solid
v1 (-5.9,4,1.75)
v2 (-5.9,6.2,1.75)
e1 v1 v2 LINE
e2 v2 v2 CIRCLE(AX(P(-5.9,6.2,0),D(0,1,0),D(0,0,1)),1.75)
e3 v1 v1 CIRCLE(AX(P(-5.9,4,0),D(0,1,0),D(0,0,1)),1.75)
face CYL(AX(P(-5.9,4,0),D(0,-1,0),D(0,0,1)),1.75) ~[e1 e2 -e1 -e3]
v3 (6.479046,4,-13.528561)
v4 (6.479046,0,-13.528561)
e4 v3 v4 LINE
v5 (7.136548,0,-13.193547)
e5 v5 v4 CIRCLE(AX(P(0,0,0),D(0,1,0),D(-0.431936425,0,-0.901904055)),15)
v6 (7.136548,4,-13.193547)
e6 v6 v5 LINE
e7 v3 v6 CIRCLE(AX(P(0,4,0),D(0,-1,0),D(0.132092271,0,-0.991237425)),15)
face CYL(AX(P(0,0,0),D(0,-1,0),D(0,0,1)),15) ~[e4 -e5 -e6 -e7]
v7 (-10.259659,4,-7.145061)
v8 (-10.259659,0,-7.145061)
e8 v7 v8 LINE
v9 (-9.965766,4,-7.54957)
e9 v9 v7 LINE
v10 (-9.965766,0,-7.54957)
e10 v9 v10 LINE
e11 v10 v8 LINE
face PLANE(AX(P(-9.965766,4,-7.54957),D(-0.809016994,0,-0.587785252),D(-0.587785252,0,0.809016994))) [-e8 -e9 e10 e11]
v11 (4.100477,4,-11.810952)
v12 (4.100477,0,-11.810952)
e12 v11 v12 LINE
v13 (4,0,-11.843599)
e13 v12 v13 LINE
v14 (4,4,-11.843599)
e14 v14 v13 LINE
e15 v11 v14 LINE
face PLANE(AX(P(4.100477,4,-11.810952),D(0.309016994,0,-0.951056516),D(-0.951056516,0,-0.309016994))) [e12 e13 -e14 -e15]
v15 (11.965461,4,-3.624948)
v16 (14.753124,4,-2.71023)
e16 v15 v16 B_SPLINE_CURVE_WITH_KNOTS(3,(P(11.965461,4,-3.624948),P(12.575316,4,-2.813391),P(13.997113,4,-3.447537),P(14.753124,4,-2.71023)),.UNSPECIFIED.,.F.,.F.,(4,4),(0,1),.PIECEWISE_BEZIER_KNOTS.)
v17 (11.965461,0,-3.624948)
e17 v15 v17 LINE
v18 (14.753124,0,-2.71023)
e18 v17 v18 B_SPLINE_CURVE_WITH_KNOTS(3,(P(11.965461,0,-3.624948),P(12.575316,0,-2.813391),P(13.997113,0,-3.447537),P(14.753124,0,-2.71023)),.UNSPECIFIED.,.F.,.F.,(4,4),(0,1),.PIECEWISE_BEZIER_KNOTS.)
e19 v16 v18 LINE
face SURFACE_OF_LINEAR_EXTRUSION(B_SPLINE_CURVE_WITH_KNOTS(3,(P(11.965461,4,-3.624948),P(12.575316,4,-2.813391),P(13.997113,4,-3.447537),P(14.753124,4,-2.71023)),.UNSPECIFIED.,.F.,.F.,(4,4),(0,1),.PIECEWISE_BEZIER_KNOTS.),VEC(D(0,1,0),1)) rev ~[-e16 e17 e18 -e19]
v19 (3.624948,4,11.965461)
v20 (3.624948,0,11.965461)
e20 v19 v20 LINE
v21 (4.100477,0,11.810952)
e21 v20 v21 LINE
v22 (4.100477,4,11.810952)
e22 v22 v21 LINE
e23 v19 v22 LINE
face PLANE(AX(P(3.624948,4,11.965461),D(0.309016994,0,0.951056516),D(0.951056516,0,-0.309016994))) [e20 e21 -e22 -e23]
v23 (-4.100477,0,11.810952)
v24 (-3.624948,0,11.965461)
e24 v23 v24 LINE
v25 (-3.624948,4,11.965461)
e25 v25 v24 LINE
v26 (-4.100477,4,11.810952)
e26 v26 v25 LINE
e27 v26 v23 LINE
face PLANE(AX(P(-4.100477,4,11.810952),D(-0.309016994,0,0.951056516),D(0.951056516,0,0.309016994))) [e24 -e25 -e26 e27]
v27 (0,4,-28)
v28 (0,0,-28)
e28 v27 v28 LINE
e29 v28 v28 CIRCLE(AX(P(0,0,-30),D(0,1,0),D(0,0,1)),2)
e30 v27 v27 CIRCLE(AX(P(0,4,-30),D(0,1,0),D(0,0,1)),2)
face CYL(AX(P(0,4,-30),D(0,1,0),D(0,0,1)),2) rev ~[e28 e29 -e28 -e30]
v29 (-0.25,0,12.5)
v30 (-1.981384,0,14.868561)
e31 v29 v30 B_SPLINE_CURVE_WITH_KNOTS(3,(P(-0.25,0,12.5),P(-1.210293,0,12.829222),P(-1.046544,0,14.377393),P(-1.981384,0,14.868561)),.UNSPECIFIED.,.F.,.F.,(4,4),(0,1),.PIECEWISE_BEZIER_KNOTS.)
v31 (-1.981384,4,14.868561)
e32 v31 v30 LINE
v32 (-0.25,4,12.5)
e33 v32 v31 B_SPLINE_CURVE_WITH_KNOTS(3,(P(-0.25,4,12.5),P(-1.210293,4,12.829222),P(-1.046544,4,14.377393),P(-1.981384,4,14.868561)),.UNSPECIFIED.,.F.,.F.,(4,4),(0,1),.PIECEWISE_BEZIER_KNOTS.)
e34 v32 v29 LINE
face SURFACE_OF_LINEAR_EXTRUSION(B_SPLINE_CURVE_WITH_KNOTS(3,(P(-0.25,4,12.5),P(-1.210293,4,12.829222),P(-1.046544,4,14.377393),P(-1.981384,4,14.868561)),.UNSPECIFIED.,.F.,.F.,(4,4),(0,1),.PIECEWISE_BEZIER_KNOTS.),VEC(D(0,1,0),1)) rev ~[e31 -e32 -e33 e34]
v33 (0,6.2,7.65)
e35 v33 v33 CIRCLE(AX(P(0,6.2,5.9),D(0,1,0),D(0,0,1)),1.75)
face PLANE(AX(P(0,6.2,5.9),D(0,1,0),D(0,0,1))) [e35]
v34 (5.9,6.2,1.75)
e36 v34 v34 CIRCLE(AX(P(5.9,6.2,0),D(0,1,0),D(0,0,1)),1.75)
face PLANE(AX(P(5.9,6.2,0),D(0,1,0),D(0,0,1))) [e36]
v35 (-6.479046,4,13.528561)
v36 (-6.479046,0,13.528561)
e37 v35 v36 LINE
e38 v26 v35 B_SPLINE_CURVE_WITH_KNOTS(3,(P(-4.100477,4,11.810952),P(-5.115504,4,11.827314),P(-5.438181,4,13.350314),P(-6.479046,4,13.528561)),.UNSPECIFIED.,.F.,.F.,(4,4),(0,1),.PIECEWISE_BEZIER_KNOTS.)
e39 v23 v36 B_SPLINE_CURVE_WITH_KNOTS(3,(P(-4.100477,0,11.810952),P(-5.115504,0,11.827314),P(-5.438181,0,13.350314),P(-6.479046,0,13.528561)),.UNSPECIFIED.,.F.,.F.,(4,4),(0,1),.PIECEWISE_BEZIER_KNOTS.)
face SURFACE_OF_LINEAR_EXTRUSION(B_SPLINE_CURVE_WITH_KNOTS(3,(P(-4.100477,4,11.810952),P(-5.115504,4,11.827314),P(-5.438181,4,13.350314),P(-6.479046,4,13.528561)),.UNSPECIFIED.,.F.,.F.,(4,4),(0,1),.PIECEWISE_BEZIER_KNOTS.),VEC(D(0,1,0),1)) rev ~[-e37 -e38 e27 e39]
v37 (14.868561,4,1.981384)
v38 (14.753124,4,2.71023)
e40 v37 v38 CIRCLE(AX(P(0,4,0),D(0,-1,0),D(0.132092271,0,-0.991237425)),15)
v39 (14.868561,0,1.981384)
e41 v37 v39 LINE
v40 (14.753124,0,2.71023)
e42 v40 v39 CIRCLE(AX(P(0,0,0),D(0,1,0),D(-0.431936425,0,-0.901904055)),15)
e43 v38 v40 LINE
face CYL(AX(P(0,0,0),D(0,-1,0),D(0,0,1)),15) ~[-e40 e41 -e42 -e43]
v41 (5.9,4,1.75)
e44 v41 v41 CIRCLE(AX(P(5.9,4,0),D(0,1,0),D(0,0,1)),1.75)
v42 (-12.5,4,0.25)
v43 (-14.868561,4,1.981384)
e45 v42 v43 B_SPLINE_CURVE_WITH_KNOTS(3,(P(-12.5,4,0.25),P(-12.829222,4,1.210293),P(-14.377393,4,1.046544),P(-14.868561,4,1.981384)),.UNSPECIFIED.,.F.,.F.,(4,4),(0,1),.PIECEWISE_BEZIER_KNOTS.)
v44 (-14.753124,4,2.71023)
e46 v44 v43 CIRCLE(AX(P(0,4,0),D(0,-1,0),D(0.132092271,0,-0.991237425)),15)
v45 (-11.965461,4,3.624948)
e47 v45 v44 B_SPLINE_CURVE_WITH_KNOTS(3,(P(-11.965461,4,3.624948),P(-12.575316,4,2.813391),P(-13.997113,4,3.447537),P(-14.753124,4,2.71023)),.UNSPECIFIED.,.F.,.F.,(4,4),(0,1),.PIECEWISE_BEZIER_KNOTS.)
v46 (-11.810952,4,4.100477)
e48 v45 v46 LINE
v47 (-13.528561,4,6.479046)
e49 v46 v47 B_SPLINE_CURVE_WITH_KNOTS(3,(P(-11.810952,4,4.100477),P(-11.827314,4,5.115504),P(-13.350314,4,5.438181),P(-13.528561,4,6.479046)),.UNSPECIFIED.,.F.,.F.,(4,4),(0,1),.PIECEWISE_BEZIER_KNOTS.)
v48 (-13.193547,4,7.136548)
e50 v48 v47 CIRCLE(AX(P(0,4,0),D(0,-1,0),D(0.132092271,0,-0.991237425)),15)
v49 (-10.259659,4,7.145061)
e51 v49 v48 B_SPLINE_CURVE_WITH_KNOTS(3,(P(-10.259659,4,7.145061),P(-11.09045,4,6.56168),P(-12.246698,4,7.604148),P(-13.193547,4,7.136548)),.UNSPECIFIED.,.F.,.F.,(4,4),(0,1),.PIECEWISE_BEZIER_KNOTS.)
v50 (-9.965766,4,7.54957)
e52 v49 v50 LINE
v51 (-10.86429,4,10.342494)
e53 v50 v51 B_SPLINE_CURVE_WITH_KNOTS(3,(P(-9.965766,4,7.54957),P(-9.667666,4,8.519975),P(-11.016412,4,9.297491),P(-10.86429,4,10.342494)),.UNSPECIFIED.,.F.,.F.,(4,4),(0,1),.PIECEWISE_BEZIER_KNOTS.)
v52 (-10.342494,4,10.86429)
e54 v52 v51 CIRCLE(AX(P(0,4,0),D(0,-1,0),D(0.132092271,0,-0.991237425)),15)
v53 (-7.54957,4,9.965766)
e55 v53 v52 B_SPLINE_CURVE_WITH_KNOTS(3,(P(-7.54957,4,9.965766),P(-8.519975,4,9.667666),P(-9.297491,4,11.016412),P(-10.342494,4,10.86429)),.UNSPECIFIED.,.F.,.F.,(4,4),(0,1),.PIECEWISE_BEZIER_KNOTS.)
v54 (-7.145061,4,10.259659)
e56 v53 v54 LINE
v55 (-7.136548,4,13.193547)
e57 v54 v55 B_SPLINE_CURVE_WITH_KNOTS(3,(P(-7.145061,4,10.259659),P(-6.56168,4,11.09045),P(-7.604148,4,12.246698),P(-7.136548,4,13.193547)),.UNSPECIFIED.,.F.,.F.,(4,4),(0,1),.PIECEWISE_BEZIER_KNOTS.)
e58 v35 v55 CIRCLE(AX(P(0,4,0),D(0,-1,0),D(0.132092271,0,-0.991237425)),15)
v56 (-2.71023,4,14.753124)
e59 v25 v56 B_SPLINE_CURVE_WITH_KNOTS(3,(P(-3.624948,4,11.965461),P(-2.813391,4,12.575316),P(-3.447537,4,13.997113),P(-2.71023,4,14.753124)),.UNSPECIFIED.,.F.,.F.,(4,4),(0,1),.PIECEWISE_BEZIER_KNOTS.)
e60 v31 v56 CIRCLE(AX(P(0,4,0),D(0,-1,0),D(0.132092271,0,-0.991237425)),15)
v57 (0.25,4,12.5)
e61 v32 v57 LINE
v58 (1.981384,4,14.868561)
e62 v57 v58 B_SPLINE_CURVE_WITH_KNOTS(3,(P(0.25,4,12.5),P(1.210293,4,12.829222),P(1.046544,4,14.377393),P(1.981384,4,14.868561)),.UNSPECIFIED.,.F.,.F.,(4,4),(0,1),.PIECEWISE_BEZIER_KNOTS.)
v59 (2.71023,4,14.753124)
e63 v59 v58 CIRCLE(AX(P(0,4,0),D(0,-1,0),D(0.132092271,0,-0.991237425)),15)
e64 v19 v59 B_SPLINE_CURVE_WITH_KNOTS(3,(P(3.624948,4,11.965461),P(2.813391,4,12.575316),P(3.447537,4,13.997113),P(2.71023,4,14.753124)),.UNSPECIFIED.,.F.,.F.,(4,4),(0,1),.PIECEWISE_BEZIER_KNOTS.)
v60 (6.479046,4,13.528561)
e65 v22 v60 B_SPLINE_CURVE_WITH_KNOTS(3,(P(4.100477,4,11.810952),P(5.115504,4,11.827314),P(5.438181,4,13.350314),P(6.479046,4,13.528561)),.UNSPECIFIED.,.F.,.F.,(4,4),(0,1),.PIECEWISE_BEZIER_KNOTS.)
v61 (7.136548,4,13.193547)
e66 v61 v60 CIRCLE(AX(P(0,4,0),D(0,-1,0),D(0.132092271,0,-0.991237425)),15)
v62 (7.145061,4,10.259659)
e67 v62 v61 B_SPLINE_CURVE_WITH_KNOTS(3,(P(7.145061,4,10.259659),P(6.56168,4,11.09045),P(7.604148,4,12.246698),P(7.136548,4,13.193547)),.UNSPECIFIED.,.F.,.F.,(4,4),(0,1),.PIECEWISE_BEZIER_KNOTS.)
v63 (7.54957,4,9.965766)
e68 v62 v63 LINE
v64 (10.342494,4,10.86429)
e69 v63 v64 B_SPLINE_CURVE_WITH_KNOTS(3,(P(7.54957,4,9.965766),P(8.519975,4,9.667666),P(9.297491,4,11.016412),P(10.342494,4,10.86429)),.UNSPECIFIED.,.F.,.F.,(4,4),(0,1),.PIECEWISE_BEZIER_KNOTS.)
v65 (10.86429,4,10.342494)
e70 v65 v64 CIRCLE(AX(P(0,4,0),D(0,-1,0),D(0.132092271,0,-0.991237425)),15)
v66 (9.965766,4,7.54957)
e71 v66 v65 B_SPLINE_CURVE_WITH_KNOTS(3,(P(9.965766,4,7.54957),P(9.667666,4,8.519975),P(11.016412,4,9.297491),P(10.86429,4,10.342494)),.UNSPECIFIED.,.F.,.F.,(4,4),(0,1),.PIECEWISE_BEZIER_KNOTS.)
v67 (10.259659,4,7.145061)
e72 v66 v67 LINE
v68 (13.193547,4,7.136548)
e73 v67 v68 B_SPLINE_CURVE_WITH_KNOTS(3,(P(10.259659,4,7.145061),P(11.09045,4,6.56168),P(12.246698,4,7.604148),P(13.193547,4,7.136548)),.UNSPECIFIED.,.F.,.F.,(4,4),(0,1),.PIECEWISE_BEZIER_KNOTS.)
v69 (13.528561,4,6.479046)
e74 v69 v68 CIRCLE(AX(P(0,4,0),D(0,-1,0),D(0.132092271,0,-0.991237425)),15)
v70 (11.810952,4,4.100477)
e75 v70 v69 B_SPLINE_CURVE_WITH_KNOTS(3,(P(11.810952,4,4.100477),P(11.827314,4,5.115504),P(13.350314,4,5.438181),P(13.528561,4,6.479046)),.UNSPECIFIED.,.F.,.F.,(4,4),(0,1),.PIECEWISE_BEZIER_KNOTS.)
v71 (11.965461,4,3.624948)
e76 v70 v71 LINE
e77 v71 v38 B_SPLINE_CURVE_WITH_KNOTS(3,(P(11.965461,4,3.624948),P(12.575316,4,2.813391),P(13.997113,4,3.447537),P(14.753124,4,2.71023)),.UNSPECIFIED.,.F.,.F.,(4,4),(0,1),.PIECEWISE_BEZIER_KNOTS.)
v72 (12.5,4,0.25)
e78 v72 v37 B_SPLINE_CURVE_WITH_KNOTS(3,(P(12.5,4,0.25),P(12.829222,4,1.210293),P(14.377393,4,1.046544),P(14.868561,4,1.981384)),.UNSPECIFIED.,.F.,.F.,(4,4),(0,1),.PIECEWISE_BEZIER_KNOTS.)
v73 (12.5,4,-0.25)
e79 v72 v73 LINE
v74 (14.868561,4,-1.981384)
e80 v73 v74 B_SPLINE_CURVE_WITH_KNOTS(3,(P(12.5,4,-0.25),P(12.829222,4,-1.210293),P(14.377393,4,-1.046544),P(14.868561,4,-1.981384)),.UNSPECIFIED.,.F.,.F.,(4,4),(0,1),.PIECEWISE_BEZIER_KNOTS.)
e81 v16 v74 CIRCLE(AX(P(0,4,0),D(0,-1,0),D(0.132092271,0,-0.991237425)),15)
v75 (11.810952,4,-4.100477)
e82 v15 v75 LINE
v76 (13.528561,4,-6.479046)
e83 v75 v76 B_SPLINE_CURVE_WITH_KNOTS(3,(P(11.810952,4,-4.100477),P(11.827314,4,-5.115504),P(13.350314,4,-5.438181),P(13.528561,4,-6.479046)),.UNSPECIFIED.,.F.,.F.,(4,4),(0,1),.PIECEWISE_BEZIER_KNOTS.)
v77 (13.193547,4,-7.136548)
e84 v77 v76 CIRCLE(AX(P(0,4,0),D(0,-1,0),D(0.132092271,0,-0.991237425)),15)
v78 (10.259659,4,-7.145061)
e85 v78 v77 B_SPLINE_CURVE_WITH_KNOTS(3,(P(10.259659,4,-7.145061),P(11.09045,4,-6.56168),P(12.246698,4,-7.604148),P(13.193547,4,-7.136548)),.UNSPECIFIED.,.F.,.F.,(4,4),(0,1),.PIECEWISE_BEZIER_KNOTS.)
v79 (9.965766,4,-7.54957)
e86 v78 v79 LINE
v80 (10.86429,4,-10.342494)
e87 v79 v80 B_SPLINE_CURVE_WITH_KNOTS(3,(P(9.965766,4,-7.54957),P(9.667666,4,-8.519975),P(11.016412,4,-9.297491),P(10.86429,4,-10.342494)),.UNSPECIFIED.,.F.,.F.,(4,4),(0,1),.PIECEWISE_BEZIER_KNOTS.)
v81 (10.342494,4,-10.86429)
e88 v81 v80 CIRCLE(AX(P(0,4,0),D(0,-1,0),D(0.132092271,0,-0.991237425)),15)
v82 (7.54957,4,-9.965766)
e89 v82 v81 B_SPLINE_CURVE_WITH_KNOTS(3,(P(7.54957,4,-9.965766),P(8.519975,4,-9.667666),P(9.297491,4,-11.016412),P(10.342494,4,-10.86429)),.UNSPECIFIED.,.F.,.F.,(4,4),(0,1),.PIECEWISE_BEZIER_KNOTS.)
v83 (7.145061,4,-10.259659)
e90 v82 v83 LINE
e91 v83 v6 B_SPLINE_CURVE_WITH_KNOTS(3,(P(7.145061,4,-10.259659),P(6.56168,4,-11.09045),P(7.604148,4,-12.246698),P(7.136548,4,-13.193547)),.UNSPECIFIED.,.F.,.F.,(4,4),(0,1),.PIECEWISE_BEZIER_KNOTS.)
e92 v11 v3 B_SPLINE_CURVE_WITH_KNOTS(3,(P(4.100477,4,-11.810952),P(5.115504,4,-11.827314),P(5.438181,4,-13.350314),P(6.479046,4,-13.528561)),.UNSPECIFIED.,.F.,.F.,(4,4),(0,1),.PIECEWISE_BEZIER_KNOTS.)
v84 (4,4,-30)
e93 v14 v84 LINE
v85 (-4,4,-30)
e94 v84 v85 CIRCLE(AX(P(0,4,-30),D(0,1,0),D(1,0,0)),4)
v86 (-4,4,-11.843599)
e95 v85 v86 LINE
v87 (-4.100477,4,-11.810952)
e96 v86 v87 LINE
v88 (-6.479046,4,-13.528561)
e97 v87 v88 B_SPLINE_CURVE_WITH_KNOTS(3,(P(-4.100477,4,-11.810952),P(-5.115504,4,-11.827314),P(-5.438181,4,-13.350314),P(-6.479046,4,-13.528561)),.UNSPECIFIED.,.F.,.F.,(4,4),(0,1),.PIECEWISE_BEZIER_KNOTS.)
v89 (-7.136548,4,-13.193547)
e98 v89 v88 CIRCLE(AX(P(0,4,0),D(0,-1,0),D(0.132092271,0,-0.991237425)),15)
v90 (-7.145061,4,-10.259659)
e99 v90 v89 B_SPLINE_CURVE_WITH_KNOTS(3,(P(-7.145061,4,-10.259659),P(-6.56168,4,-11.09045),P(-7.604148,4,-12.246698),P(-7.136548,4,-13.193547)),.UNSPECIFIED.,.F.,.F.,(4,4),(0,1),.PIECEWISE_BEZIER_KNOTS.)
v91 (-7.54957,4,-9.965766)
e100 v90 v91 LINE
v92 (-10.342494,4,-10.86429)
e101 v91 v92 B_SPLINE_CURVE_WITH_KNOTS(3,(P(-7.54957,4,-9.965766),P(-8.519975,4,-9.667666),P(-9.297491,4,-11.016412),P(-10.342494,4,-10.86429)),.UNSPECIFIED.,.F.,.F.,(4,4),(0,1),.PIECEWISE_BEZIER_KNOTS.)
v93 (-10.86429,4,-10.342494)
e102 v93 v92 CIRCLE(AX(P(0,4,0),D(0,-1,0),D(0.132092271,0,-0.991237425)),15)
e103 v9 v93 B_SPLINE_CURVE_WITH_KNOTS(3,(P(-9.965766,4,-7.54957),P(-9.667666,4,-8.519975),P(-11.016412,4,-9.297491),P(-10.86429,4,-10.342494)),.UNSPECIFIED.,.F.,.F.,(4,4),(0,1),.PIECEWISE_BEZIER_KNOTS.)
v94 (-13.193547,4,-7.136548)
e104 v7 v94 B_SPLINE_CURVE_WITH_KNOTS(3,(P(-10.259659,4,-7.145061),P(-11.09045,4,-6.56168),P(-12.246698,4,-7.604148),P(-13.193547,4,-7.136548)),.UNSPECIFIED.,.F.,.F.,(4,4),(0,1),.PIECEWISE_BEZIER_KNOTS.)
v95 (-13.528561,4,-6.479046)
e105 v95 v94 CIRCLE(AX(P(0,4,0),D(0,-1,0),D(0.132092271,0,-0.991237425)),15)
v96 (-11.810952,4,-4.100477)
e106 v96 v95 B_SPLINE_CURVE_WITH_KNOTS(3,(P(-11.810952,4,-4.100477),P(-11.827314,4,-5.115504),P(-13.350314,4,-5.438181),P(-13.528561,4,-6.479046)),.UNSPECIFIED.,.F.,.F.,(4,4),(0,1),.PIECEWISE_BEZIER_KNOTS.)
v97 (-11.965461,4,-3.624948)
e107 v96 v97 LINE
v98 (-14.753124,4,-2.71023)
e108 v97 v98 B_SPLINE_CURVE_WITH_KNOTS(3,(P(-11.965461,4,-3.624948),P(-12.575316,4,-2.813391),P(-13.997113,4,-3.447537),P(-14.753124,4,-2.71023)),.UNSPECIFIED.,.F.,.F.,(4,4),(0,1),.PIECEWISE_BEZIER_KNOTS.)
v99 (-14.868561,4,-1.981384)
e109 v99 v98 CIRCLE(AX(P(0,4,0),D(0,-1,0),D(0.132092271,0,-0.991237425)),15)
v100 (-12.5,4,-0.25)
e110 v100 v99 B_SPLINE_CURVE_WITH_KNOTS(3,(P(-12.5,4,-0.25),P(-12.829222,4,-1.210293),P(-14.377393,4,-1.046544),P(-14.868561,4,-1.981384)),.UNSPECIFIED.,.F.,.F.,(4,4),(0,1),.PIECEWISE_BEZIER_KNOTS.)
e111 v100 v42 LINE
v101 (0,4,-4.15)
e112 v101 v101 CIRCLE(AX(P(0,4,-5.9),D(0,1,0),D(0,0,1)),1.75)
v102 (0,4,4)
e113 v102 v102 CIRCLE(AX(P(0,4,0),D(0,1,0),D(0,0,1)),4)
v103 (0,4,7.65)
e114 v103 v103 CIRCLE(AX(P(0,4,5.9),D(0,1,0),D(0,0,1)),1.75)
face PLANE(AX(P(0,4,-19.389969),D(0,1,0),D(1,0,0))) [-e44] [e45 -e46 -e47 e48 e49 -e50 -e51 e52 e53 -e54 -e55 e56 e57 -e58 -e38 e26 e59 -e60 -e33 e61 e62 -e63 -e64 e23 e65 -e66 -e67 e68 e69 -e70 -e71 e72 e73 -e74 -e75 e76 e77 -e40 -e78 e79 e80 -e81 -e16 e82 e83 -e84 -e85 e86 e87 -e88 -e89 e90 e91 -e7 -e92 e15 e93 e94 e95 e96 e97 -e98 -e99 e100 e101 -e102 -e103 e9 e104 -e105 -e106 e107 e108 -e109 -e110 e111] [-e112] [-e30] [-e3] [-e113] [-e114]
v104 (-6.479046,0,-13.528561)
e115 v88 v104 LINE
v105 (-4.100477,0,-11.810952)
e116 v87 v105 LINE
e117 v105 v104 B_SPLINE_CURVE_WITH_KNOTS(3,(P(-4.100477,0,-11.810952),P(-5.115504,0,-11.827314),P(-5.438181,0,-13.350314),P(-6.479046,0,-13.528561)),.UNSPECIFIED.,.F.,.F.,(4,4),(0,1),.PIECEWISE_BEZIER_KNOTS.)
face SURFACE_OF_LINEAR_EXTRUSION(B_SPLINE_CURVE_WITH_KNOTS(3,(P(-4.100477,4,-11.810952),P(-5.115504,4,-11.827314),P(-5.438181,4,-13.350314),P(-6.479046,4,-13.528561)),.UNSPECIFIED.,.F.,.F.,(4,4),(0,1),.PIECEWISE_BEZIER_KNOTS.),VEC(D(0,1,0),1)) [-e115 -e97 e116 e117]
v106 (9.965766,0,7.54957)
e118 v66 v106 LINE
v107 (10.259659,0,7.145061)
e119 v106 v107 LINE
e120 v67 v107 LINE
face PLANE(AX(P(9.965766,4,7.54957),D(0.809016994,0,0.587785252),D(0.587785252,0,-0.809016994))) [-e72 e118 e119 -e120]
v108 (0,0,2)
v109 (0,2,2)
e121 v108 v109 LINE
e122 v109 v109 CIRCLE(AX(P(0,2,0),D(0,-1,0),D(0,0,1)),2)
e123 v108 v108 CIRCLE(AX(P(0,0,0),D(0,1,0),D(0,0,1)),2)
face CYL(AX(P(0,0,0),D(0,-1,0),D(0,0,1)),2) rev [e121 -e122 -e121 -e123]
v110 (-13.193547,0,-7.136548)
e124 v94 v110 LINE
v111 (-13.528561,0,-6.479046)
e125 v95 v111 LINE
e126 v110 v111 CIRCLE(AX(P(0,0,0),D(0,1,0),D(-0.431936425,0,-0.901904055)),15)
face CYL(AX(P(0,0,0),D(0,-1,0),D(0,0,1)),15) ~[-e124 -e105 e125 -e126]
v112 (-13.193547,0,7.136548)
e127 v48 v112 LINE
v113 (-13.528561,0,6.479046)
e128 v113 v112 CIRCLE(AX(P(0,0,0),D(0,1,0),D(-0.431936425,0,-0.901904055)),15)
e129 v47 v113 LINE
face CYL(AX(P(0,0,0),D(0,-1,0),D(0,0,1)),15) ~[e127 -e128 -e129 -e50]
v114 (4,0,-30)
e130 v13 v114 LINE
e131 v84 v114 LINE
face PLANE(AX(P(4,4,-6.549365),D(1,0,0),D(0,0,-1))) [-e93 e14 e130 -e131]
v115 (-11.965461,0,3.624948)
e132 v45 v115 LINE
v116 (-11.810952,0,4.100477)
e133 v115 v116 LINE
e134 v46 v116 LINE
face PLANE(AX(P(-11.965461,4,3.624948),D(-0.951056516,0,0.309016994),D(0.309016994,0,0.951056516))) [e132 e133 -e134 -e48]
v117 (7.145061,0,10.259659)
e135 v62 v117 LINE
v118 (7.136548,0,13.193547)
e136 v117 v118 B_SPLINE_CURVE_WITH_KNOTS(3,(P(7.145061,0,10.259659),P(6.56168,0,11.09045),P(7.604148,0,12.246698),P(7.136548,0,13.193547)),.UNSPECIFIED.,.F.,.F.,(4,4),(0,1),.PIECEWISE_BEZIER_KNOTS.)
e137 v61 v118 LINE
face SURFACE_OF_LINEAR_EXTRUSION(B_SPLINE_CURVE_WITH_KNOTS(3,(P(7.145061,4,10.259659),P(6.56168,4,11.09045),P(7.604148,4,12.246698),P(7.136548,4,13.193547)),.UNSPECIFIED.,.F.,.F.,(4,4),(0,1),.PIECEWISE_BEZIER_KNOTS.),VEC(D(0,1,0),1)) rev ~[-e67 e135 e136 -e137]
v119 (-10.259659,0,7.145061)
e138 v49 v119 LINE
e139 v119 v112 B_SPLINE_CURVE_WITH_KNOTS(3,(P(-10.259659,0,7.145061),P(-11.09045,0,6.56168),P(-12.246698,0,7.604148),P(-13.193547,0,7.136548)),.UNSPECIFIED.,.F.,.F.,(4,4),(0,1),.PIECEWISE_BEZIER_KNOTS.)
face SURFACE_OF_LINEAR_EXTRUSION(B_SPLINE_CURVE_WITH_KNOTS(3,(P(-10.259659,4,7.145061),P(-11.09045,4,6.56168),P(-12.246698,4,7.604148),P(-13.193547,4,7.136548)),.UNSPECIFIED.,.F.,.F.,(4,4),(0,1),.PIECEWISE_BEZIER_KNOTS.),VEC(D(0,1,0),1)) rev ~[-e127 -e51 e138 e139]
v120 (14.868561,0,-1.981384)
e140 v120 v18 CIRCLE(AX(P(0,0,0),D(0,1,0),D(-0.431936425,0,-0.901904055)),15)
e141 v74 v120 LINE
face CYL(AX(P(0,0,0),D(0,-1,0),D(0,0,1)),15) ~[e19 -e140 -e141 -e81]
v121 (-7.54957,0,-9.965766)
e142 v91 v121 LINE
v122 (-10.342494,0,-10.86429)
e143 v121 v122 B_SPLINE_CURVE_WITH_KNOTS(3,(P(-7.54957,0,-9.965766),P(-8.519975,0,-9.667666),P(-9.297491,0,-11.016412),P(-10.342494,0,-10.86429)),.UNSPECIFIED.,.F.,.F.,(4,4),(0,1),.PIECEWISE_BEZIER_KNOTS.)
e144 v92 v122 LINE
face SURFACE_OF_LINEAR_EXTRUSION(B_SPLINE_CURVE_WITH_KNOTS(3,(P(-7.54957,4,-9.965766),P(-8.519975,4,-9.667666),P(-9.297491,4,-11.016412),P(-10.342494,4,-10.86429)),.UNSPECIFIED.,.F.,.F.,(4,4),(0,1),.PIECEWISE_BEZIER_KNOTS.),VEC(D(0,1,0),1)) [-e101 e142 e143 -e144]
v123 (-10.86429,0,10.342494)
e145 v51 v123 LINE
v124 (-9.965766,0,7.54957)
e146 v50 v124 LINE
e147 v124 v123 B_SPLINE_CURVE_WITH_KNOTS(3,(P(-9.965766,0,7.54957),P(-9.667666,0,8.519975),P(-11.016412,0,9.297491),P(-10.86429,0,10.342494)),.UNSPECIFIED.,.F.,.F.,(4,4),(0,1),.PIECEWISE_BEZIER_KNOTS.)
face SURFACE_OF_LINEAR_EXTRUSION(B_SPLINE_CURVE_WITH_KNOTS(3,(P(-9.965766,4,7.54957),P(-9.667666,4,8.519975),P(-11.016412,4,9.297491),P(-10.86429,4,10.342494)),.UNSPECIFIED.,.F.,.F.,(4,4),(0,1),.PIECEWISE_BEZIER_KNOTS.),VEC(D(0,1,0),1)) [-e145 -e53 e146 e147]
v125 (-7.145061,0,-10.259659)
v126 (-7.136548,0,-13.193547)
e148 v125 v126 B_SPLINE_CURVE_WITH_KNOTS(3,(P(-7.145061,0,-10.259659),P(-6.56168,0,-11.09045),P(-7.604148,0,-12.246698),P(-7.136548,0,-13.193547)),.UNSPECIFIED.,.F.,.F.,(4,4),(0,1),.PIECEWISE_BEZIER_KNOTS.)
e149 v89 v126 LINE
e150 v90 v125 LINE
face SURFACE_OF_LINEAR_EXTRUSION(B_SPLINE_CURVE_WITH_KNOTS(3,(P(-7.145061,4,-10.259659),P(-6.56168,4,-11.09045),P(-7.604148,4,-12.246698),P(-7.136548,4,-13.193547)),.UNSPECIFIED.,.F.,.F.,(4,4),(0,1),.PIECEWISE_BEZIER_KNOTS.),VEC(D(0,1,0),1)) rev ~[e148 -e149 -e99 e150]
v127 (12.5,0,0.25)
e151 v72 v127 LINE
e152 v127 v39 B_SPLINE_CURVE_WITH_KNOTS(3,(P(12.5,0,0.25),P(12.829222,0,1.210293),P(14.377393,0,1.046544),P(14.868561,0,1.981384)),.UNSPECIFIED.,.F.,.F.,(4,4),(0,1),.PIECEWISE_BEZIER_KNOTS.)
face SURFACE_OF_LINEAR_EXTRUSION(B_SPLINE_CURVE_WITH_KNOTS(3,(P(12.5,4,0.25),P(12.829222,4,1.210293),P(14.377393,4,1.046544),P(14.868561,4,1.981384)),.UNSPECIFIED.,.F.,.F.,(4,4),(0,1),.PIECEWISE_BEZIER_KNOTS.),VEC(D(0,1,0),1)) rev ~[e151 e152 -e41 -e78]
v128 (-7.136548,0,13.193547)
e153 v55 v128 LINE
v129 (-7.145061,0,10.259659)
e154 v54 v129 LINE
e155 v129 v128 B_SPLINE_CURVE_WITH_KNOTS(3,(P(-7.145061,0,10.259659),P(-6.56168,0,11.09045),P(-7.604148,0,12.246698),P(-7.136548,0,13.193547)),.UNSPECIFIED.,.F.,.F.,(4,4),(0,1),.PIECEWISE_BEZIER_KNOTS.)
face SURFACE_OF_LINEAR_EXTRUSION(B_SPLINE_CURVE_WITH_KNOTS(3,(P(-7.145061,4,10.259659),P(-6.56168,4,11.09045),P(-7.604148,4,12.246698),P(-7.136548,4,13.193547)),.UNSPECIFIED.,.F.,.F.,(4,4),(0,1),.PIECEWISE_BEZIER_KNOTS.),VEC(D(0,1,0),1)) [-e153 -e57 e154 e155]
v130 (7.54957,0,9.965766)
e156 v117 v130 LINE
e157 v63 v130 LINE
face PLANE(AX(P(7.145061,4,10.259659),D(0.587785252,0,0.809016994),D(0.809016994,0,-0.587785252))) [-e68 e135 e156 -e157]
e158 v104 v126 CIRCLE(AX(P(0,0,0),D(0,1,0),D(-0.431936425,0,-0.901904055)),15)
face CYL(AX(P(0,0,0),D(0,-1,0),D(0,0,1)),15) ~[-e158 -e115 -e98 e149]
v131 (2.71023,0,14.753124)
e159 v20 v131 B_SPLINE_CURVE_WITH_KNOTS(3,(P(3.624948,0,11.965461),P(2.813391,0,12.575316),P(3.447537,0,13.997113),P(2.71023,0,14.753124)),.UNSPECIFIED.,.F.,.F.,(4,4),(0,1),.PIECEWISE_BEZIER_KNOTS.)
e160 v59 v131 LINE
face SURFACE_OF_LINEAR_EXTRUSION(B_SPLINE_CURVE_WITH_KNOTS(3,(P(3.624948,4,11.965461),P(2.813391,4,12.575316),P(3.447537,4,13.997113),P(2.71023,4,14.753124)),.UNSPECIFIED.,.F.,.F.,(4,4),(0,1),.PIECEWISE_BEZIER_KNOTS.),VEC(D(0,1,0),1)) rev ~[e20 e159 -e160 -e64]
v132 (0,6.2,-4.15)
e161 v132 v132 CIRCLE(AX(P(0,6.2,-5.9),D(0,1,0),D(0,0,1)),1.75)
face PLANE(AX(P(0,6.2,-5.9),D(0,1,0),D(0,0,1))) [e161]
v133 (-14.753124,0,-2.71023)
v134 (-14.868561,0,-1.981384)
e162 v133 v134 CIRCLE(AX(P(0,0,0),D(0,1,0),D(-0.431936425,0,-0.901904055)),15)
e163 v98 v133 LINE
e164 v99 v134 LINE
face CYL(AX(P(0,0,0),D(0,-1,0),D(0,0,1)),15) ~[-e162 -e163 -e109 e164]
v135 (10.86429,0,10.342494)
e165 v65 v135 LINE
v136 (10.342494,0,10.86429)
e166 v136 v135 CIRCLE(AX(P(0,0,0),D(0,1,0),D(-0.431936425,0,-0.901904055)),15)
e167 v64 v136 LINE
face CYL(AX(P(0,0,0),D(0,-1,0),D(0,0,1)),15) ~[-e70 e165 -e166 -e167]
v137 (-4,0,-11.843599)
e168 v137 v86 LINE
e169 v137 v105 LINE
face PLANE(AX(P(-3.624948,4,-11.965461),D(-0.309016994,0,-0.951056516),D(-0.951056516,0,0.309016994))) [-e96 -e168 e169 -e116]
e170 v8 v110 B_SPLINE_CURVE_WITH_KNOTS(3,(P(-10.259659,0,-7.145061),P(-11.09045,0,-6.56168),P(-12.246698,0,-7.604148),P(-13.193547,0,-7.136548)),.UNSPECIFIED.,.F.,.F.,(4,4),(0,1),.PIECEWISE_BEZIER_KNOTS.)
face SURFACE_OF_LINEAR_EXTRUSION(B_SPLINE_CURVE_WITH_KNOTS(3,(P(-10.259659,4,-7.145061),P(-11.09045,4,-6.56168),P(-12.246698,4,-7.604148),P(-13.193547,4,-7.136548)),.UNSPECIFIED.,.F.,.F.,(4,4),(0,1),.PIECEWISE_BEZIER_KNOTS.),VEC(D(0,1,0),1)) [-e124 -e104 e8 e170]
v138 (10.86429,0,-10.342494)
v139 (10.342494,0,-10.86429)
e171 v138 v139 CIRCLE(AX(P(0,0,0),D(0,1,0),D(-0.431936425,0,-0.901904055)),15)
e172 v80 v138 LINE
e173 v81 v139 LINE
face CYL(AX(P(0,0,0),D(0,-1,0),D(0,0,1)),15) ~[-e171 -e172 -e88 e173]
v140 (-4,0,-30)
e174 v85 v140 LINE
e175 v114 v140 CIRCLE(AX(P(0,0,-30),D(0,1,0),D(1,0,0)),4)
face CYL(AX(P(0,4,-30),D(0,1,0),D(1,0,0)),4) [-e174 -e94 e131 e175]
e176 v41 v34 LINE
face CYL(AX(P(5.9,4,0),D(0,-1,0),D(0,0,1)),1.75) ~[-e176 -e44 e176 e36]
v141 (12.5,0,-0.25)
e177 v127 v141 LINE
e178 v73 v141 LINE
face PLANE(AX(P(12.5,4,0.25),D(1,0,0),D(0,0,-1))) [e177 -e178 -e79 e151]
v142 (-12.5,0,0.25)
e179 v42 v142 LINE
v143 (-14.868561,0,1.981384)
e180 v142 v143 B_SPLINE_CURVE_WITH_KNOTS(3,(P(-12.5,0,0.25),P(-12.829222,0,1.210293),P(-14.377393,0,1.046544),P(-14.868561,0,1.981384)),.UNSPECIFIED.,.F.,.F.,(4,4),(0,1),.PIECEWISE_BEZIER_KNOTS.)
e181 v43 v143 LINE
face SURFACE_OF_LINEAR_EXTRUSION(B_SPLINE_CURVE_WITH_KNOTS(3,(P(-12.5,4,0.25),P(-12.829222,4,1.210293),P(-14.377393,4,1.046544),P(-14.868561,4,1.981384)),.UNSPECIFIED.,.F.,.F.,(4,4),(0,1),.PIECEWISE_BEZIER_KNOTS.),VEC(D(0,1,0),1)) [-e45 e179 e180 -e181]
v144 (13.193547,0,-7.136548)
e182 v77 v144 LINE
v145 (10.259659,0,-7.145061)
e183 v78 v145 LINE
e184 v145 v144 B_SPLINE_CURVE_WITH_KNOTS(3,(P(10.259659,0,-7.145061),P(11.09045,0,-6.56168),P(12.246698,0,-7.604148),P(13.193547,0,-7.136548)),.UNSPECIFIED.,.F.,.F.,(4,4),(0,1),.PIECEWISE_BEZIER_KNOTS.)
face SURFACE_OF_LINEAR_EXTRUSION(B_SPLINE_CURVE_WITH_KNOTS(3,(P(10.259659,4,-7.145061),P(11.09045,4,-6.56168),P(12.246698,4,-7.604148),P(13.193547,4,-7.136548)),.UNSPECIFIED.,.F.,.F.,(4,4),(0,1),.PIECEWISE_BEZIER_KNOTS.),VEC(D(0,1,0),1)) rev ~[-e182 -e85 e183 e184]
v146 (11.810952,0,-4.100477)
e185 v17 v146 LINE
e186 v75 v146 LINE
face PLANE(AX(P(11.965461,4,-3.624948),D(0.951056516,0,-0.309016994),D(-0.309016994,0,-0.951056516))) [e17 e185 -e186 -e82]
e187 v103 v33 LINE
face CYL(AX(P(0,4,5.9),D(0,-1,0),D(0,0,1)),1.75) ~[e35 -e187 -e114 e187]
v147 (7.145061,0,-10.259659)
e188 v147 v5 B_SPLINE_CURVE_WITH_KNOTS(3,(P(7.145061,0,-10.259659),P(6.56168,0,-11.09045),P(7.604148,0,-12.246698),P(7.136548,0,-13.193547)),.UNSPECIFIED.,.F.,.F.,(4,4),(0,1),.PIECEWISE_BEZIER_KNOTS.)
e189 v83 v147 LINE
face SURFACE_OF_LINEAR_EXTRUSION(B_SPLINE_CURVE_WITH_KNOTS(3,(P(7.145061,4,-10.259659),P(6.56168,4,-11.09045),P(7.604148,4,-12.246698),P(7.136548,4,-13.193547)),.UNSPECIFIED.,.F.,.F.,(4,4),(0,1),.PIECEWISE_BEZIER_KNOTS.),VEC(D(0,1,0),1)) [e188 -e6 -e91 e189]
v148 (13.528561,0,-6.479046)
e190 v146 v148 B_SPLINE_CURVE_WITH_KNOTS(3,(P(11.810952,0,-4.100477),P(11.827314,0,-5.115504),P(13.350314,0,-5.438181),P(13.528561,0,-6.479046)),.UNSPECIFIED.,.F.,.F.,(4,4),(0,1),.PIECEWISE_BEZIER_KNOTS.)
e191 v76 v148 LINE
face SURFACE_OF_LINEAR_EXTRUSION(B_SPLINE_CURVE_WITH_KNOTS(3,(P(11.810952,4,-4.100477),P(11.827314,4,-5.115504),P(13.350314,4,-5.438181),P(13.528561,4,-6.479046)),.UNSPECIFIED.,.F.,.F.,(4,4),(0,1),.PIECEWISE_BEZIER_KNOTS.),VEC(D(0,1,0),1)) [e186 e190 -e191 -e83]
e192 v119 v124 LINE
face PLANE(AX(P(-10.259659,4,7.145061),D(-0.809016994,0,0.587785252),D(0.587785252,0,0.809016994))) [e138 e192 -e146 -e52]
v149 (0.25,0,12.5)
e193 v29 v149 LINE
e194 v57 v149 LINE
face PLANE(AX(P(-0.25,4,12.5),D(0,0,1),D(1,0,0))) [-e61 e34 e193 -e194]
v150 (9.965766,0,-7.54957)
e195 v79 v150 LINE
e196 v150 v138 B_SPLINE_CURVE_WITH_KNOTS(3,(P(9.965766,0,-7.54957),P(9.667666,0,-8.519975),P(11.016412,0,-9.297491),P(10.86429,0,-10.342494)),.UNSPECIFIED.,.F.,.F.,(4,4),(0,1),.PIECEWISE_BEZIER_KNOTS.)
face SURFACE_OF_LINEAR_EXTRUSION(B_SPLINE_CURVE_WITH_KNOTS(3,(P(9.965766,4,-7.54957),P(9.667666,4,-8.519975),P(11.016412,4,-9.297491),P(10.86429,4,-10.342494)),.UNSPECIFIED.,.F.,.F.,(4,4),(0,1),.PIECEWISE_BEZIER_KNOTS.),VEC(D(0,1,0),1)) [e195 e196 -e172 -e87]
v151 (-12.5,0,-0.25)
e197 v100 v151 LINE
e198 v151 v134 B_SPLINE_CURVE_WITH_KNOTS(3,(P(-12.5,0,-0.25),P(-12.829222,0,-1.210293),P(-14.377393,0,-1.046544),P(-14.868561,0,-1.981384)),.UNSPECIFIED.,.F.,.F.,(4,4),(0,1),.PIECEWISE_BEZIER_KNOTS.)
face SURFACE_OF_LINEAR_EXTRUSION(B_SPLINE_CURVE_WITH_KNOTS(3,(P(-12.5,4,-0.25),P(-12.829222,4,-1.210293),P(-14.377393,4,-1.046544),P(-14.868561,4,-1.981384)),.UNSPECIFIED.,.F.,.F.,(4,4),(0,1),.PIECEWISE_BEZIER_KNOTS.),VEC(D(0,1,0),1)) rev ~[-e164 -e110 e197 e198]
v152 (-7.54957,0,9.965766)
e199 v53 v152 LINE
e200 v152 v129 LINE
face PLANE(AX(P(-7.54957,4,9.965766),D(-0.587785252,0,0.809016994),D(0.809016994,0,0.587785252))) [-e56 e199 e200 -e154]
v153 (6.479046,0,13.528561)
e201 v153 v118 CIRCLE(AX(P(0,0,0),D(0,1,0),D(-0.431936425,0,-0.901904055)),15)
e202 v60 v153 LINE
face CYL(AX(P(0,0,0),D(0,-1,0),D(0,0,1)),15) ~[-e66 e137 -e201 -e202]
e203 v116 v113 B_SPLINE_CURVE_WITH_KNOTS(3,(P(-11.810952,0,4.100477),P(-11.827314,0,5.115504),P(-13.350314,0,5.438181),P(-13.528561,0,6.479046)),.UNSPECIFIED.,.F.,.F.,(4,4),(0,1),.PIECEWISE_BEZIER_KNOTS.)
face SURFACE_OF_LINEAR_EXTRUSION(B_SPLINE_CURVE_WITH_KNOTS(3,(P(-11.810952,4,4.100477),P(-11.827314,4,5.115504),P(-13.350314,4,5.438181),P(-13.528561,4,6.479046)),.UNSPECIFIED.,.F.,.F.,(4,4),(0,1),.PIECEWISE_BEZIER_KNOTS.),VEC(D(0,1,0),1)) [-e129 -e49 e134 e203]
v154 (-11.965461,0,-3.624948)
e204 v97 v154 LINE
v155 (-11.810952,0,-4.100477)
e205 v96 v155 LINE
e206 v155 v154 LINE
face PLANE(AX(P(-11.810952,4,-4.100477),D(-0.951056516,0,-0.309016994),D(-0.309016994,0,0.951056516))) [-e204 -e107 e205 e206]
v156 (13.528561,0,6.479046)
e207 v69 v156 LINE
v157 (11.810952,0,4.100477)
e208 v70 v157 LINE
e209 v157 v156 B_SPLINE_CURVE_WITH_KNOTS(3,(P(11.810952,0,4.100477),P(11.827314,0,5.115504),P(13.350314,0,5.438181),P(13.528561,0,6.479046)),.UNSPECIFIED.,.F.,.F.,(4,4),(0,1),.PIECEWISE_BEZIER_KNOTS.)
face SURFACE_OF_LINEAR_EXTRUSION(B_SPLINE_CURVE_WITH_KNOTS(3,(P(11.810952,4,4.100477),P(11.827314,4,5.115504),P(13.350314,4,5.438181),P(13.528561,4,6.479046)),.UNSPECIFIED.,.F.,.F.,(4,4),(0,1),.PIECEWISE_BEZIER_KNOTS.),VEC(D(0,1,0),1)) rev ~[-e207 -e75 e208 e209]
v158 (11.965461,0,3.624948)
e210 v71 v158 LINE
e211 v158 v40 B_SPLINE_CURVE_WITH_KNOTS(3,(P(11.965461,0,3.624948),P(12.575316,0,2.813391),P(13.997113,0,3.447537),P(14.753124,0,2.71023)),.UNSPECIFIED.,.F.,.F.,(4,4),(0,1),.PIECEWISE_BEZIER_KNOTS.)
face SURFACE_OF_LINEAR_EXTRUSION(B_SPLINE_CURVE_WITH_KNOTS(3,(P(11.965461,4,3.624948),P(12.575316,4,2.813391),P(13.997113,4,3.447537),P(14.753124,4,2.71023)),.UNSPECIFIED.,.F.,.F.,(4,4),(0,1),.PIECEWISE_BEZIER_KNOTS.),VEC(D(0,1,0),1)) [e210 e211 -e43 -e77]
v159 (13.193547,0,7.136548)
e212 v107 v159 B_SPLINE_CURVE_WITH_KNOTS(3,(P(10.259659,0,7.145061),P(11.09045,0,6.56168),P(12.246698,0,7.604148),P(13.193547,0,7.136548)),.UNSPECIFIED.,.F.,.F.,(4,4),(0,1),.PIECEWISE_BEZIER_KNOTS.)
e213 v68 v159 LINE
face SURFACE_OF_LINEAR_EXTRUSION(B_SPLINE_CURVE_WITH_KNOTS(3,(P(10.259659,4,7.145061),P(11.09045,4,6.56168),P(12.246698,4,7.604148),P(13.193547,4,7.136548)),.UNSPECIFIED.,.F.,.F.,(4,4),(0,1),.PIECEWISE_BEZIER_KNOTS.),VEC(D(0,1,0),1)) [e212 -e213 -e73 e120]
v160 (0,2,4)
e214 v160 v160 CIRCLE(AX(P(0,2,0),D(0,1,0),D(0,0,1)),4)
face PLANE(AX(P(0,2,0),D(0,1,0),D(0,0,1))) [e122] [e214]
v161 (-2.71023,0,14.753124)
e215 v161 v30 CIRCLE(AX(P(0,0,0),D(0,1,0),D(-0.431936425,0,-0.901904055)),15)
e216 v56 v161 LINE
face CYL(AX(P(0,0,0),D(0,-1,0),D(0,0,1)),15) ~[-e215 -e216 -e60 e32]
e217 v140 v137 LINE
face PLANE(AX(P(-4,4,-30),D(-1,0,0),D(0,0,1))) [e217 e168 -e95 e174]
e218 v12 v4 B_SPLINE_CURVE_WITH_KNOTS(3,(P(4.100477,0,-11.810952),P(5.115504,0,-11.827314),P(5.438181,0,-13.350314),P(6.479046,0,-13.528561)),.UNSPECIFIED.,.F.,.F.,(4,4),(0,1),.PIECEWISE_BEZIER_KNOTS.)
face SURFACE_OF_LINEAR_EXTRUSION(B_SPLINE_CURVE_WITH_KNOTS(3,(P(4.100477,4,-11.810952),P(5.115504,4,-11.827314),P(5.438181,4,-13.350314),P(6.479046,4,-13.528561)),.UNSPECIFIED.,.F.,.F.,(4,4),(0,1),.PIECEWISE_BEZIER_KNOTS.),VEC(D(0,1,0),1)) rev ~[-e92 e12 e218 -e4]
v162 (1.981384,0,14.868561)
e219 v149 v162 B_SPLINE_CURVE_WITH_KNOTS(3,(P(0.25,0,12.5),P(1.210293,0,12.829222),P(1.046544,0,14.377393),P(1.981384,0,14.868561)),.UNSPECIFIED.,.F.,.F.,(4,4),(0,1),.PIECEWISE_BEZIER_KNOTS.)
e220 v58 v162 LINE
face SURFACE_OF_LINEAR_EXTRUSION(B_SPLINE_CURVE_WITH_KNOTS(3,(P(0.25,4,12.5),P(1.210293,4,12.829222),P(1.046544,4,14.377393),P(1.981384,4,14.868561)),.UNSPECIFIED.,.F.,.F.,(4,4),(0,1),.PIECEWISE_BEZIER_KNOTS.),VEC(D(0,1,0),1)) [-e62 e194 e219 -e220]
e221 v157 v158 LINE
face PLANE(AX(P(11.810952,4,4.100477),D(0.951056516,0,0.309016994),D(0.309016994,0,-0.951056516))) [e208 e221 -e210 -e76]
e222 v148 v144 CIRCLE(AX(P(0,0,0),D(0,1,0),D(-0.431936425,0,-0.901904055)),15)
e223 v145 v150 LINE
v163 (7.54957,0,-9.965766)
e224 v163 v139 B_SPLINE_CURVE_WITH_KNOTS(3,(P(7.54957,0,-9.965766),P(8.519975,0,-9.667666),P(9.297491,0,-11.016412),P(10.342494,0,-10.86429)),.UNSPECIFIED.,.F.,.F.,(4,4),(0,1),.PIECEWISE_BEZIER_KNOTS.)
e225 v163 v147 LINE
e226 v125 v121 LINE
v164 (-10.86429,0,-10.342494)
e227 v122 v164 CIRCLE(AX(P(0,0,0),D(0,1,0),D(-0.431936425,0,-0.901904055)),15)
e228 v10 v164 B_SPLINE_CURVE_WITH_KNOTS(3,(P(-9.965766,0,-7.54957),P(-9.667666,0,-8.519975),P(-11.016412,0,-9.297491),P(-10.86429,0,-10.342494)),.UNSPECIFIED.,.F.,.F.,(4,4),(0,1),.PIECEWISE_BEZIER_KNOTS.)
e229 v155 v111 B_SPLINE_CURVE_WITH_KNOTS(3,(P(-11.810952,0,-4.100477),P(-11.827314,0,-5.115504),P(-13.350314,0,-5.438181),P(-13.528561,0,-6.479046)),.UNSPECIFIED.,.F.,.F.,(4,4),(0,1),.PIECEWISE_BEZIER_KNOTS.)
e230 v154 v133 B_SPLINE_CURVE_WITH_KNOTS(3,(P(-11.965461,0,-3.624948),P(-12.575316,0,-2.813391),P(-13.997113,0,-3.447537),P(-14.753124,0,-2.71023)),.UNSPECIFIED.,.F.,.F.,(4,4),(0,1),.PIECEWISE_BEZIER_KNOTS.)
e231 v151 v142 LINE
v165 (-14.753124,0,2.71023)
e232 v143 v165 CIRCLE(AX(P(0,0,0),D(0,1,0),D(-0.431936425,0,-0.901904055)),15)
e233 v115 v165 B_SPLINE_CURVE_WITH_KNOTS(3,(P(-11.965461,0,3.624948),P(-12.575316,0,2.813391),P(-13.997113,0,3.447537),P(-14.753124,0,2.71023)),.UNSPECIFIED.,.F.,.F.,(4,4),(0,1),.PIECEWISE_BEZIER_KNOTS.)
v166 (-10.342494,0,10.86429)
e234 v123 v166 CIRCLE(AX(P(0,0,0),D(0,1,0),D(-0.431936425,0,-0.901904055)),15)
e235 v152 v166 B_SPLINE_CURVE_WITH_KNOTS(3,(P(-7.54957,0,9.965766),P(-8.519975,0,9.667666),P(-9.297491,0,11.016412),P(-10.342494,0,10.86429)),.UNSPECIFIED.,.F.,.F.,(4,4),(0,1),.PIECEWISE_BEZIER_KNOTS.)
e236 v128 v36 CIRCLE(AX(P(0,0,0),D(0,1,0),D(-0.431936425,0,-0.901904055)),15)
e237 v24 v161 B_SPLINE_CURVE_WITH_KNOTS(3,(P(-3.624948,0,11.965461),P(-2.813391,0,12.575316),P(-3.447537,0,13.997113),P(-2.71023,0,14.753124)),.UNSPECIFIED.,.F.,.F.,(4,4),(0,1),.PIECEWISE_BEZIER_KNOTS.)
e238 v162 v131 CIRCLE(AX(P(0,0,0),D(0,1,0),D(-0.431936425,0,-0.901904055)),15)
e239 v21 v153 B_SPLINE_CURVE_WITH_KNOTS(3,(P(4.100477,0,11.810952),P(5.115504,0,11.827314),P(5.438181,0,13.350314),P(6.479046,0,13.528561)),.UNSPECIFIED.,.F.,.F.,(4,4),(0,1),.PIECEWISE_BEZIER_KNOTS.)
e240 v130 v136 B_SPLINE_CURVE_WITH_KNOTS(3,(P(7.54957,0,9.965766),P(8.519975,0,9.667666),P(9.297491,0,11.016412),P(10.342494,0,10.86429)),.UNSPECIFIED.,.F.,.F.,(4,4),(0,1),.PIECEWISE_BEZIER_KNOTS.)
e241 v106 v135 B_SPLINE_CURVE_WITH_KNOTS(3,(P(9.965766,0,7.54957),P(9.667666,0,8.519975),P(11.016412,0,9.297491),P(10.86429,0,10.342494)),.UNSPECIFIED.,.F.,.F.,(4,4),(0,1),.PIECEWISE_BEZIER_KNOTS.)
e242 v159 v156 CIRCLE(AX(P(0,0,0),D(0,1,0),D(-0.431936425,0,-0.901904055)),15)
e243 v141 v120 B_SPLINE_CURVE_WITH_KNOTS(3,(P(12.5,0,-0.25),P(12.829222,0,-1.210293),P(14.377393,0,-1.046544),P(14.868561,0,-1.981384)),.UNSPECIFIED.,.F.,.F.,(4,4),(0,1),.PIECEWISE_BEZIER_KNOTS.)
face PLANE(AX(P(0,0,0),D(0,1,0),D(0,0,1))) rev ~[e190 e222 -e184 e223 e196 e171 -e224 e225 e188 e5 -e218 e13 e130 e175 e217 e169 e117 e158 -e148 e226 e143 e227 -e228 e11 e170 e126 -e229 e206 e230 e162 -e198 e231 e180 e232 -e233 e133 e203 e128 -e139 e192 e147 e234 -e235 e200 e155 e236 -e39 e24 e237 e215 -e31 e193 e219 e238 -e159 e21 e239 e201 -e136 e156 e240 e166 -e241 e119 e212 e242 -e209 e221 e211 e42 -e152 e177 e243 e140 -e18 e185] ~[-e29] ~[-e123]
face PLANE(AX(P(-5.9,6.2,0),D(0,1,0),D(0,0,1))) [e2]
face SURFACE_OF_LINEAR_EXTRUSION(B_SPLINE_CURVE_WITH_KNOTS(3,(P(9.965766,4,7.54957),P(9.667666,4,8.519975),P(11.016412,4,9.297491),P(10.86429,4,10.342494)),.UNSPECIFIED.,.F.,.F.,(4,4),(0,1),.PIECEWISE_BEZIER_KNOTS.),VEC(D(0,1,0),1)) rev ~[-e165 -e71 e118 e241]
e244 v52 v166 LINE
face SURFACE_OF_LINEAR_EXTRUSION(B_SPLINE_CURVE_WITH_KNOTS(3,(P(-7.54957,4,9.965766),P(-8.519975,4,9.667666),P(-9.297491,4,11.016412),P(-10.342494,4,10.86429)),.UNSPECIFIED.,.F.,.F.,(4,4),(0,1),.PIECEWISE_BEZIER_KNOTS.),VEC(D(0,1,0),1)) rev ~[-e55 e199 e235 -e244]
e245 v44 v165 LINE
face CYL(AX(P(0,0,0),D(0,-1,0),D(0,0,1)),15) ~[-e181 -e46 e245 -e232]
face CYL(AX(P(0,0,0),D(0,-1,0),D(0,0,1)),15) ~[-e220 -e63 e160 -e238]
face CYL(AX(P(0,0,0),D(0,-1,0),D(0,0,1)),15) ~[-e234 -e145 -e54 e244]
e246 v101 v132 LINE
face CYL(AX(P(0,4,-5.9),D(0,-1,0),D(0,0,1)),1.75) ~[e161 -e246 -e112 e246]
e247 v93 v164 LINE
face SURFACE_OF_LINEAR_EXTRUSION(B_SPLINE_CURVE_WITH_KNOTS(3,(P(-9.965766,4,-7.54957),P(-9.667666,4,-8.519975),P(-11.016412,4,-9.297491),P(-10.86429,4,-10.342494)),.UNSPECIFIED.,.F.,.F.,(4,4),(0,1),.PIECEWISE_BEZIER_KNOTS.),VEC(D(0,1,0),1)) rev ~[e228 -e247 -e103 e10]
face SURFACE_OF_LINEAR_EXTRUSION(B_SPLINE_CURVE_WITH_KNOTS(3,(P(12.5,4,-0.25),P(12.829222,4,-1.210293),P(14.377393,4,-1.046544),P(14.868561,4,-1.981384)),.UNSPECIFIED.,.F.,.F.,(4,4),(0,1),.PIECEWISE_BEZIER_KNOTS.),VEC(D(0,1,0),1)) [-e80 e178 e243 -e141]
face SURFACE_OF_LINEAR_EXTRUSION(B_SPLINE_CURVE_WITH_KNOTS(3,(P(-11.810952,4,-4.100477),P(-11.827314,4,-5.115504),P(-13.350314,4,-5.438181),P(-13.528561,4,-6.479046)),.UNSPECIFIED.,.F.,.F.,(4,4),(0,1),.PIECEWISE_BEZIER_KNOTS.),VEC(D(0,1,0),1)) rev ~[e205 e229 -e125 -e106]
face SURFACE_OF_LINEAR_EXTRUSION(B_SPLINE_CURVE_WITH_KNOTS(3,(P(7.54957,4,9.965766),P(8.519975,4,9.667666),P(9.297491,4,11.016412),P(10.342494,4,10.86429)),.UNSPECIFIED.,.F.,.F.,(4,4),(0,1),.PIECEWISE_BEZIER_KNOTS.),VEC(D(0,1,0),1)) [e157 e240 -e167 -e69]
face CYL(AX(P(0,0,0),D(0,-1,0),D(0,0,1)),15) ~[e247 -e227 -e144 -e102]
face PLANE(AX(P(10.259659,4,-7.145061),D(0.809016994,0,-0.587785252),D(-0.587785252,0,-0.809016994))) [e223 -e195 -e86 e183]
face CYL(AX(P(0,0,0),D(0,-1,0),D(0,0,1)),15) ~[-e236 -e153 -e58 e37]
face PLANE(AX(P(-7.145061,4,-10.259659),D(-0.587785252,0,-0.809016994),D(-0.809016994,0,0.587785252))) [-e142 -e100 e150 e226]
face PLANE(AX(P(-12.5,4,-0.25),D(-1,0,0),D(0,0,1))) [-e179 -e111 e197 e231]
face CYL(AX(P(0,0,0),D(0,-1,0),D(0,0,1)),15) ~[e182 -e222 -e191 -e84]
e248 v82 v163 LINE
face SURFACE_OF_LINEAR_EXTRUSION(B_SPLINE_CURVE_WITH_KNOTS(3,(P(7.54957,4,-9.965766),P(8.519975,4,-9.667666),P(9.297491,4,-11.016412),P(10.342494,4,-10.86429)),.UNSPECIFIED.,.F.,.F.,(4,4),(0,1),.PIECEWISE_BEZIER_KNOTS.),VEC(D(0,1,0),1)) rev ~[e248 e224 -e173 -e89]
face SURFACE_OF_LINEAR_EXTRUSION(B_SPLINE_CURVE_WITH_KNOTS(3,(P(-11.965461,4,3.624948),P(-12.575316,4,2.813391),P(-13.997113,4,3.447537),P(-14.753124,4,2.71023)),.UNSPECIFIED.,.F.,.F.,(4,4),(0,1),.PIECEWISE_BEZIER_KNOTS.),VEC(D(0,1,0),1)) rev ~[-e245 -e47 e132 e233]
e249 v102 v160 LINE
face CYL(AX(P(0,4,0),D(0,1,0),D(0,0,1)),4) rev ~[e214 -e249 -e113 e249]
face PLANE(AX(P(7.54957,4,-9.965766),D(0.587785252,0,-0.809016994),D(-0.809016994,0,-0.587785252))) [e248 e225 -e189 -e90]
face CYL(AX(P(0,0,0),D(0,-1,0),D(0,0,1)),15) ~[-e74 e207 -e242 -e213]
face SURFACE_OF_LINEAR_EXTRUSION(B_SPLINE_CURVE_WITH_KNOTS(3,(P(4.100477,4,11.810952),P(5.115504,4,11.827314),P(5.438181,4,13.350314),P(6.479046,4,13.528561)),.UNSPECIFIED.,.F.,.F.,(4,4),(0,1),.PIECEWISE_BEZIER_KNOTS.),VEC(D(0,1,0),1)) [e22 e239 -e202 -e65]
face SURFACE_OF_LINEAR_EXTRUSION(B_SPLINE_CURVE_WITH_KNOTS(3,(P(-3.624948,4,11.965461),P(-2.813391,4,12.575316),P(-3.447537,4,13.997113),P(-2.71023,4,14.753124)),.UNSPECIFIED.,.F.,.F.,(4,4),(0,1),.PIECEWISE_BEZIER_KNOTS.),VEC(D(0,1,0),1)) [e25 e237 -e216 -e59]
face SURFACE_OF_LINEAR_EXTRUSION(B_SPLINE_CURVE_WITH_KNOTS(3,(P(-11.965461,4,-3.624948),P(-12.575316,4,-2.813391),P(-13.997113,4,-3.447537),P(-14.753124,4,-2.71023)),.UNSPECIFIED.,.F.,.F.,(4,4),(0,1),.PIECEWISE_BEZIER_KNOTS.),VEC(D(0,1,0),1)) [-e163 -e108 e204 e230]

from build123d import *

# Parameters (mm, degrees)
ESQUISSE1_R                  = 15
ESQUISSE1_R_2                = 2
BOSS_EXTRU_1_DEPTH           = 4
ENL_V_MAT_EXTRU_1_DEPTH      = 4
R_P_TITION_CIRCULAIRE1_COUNT = 20
ESQUISSE3_R                  = 2
BOSS_EXTRU_2_DEPTH           = 4
ESQUISSE5_R                  = 1.75
BOSS_EXTRU_3_DEPTH           = 2.2
ESQUISSE6_R                  = 4
ENL_V_MAT_EXTRU_2_DEPTH      = 2


with BuildPart() as part:
    # Esquisse1 → Boss.-Extru.1 (new body)
    with BuildSketch(Plane(origin=(0, 0, 0), x_dir=(1, 0, 0), z_dir=(0, 1, 0))):
        with Locations(Location((0, 0, 0), (0, 0, 270))):
            Circle(ESQUISSE1_R)
        with Locations(Location((0, 0, 0), (0, 0, 270))):
            Circle(ESQUISSE1_R_2, mode=Mode.SUBTRACT)
    extrude(amount=BOSS_EXTRU_1_DEPTH)

    # Esquisse2 → Enlèv. mat.-Extru.1 (cut)
    with BuildSketch(Plane(origin=(0, 4, 0), x_dir=(1, 0, 0), z_dir=(0, 1, 0))):
        with BuildLine():
            Line((0.25, 12.5), (-0.25, 12.5))
            add(Edge.make_bspline(
                [(-0.25, 12.5), (-1.210292611, 12.829221626), (-1.046543714, 14.377393022), (-1.981384064, 14.868561369)],
                knots=[0, 0, 0, 0, 1, 1, 1, 1], degree=3))
            ThreePointArc((-1.981384064, 14.868561369), (0, 15.280808024), (1.981384064, 14.868561369))
            add(Edge.make_bspline(
                [(0.25, 12.5), (1.210292611, 12.829221626), (1.046543714, 14.377393022), (1.981384064, 14.868561369)],
                knots=[0, 0, 0, 0, 1, 1, 1, 1], degree=3))
        make_face()
    enl_v_mat_extru_1 = extrude(amount=-ENL_V_MAT_EXTRU_1_DEPTH, mode=Mode.SUBTRACT)

    # Répétition circulaire1: Enlèv. mat.-Extru.1 ×20 about axis
    r_p_tition_circulaire1_axis = Axis((0, 4, 0), (0, 1, 0))
    for i in range(1, R_P_TITION_CIRCULAIRE1_COUNT):
        add(enl_v_mat_extru_1.rotate(r_p_tition_circulaire1_axis, i * 360 / R_P_TITION_CIRCULAIRE1_COUNT), mode=Mode.SUBTRACT)

    # Esquisse3 → Boss.-Extru.2 (add)
    with BuildSketch(Plane(origin=(0, 4, 0), x_dir=(1, 0, 0), z_dir=(0, 1, 0))):
        with BuildLine():
            Line((4, 6.549364769), (4, 30))
            ThreePointArc((4, 30), (0, 34), (-4, 30))
            Line((-4, 30), (-4, 6.549364769))
            Line((-4, 6.549364769), (4, 6.549364769))
        make_face()
        with Locations(Location((0, 30, 0), (0, 0, 270))):
            Circle(ESQUISSE3_R, mode=Mode.SUBTRACT)
    extrude(amount=-BOSS_EXTRU_2_DEPTH)

    # Esquisse5 → Boss.-Extru.3 (add)
    with BuildSketch(Plane(origin=(0, 4, 0), x_dir=(1, 0, 0), z_dir=(0, 1, 0))):
        with Locations(Location((5.9, 0, 0), (0, 0, 270))):
            Circle(ESQUISSE5_R)
        with Locations(Location((0, -5.9, 0), (0, 0, 270))):
            Circle(ESQUISSE5_R)
        with Locations(Location((-5.9, 0, 0), (0, 0, 270))):
            Circle(ESQUISSE5_R)
        with Locations(Location((0, 5.9, 0), (0, 0, 270))):
            Circle(ESQUISSE5_R)
    extrude(amount=BOSS_EXTRU_3_DEPTH)

    # Esquisse6 → Enlèv. mat.-Extru.2 (cut)
    with BuildSketch(Plane(origin=(0, 4, 0), x_dir=(1, 0, 0), z_dir=(0, 1, 0))):
        with Locations(Location((0, 0, 0), (0, 0, 270))):
            Circle(ESQUISSE6_R)
    extrude(amount=-ENL_V_MAT_EXTRU_2_DEPTH, mode=Mode.SUBTRACT)


solid = part.part
